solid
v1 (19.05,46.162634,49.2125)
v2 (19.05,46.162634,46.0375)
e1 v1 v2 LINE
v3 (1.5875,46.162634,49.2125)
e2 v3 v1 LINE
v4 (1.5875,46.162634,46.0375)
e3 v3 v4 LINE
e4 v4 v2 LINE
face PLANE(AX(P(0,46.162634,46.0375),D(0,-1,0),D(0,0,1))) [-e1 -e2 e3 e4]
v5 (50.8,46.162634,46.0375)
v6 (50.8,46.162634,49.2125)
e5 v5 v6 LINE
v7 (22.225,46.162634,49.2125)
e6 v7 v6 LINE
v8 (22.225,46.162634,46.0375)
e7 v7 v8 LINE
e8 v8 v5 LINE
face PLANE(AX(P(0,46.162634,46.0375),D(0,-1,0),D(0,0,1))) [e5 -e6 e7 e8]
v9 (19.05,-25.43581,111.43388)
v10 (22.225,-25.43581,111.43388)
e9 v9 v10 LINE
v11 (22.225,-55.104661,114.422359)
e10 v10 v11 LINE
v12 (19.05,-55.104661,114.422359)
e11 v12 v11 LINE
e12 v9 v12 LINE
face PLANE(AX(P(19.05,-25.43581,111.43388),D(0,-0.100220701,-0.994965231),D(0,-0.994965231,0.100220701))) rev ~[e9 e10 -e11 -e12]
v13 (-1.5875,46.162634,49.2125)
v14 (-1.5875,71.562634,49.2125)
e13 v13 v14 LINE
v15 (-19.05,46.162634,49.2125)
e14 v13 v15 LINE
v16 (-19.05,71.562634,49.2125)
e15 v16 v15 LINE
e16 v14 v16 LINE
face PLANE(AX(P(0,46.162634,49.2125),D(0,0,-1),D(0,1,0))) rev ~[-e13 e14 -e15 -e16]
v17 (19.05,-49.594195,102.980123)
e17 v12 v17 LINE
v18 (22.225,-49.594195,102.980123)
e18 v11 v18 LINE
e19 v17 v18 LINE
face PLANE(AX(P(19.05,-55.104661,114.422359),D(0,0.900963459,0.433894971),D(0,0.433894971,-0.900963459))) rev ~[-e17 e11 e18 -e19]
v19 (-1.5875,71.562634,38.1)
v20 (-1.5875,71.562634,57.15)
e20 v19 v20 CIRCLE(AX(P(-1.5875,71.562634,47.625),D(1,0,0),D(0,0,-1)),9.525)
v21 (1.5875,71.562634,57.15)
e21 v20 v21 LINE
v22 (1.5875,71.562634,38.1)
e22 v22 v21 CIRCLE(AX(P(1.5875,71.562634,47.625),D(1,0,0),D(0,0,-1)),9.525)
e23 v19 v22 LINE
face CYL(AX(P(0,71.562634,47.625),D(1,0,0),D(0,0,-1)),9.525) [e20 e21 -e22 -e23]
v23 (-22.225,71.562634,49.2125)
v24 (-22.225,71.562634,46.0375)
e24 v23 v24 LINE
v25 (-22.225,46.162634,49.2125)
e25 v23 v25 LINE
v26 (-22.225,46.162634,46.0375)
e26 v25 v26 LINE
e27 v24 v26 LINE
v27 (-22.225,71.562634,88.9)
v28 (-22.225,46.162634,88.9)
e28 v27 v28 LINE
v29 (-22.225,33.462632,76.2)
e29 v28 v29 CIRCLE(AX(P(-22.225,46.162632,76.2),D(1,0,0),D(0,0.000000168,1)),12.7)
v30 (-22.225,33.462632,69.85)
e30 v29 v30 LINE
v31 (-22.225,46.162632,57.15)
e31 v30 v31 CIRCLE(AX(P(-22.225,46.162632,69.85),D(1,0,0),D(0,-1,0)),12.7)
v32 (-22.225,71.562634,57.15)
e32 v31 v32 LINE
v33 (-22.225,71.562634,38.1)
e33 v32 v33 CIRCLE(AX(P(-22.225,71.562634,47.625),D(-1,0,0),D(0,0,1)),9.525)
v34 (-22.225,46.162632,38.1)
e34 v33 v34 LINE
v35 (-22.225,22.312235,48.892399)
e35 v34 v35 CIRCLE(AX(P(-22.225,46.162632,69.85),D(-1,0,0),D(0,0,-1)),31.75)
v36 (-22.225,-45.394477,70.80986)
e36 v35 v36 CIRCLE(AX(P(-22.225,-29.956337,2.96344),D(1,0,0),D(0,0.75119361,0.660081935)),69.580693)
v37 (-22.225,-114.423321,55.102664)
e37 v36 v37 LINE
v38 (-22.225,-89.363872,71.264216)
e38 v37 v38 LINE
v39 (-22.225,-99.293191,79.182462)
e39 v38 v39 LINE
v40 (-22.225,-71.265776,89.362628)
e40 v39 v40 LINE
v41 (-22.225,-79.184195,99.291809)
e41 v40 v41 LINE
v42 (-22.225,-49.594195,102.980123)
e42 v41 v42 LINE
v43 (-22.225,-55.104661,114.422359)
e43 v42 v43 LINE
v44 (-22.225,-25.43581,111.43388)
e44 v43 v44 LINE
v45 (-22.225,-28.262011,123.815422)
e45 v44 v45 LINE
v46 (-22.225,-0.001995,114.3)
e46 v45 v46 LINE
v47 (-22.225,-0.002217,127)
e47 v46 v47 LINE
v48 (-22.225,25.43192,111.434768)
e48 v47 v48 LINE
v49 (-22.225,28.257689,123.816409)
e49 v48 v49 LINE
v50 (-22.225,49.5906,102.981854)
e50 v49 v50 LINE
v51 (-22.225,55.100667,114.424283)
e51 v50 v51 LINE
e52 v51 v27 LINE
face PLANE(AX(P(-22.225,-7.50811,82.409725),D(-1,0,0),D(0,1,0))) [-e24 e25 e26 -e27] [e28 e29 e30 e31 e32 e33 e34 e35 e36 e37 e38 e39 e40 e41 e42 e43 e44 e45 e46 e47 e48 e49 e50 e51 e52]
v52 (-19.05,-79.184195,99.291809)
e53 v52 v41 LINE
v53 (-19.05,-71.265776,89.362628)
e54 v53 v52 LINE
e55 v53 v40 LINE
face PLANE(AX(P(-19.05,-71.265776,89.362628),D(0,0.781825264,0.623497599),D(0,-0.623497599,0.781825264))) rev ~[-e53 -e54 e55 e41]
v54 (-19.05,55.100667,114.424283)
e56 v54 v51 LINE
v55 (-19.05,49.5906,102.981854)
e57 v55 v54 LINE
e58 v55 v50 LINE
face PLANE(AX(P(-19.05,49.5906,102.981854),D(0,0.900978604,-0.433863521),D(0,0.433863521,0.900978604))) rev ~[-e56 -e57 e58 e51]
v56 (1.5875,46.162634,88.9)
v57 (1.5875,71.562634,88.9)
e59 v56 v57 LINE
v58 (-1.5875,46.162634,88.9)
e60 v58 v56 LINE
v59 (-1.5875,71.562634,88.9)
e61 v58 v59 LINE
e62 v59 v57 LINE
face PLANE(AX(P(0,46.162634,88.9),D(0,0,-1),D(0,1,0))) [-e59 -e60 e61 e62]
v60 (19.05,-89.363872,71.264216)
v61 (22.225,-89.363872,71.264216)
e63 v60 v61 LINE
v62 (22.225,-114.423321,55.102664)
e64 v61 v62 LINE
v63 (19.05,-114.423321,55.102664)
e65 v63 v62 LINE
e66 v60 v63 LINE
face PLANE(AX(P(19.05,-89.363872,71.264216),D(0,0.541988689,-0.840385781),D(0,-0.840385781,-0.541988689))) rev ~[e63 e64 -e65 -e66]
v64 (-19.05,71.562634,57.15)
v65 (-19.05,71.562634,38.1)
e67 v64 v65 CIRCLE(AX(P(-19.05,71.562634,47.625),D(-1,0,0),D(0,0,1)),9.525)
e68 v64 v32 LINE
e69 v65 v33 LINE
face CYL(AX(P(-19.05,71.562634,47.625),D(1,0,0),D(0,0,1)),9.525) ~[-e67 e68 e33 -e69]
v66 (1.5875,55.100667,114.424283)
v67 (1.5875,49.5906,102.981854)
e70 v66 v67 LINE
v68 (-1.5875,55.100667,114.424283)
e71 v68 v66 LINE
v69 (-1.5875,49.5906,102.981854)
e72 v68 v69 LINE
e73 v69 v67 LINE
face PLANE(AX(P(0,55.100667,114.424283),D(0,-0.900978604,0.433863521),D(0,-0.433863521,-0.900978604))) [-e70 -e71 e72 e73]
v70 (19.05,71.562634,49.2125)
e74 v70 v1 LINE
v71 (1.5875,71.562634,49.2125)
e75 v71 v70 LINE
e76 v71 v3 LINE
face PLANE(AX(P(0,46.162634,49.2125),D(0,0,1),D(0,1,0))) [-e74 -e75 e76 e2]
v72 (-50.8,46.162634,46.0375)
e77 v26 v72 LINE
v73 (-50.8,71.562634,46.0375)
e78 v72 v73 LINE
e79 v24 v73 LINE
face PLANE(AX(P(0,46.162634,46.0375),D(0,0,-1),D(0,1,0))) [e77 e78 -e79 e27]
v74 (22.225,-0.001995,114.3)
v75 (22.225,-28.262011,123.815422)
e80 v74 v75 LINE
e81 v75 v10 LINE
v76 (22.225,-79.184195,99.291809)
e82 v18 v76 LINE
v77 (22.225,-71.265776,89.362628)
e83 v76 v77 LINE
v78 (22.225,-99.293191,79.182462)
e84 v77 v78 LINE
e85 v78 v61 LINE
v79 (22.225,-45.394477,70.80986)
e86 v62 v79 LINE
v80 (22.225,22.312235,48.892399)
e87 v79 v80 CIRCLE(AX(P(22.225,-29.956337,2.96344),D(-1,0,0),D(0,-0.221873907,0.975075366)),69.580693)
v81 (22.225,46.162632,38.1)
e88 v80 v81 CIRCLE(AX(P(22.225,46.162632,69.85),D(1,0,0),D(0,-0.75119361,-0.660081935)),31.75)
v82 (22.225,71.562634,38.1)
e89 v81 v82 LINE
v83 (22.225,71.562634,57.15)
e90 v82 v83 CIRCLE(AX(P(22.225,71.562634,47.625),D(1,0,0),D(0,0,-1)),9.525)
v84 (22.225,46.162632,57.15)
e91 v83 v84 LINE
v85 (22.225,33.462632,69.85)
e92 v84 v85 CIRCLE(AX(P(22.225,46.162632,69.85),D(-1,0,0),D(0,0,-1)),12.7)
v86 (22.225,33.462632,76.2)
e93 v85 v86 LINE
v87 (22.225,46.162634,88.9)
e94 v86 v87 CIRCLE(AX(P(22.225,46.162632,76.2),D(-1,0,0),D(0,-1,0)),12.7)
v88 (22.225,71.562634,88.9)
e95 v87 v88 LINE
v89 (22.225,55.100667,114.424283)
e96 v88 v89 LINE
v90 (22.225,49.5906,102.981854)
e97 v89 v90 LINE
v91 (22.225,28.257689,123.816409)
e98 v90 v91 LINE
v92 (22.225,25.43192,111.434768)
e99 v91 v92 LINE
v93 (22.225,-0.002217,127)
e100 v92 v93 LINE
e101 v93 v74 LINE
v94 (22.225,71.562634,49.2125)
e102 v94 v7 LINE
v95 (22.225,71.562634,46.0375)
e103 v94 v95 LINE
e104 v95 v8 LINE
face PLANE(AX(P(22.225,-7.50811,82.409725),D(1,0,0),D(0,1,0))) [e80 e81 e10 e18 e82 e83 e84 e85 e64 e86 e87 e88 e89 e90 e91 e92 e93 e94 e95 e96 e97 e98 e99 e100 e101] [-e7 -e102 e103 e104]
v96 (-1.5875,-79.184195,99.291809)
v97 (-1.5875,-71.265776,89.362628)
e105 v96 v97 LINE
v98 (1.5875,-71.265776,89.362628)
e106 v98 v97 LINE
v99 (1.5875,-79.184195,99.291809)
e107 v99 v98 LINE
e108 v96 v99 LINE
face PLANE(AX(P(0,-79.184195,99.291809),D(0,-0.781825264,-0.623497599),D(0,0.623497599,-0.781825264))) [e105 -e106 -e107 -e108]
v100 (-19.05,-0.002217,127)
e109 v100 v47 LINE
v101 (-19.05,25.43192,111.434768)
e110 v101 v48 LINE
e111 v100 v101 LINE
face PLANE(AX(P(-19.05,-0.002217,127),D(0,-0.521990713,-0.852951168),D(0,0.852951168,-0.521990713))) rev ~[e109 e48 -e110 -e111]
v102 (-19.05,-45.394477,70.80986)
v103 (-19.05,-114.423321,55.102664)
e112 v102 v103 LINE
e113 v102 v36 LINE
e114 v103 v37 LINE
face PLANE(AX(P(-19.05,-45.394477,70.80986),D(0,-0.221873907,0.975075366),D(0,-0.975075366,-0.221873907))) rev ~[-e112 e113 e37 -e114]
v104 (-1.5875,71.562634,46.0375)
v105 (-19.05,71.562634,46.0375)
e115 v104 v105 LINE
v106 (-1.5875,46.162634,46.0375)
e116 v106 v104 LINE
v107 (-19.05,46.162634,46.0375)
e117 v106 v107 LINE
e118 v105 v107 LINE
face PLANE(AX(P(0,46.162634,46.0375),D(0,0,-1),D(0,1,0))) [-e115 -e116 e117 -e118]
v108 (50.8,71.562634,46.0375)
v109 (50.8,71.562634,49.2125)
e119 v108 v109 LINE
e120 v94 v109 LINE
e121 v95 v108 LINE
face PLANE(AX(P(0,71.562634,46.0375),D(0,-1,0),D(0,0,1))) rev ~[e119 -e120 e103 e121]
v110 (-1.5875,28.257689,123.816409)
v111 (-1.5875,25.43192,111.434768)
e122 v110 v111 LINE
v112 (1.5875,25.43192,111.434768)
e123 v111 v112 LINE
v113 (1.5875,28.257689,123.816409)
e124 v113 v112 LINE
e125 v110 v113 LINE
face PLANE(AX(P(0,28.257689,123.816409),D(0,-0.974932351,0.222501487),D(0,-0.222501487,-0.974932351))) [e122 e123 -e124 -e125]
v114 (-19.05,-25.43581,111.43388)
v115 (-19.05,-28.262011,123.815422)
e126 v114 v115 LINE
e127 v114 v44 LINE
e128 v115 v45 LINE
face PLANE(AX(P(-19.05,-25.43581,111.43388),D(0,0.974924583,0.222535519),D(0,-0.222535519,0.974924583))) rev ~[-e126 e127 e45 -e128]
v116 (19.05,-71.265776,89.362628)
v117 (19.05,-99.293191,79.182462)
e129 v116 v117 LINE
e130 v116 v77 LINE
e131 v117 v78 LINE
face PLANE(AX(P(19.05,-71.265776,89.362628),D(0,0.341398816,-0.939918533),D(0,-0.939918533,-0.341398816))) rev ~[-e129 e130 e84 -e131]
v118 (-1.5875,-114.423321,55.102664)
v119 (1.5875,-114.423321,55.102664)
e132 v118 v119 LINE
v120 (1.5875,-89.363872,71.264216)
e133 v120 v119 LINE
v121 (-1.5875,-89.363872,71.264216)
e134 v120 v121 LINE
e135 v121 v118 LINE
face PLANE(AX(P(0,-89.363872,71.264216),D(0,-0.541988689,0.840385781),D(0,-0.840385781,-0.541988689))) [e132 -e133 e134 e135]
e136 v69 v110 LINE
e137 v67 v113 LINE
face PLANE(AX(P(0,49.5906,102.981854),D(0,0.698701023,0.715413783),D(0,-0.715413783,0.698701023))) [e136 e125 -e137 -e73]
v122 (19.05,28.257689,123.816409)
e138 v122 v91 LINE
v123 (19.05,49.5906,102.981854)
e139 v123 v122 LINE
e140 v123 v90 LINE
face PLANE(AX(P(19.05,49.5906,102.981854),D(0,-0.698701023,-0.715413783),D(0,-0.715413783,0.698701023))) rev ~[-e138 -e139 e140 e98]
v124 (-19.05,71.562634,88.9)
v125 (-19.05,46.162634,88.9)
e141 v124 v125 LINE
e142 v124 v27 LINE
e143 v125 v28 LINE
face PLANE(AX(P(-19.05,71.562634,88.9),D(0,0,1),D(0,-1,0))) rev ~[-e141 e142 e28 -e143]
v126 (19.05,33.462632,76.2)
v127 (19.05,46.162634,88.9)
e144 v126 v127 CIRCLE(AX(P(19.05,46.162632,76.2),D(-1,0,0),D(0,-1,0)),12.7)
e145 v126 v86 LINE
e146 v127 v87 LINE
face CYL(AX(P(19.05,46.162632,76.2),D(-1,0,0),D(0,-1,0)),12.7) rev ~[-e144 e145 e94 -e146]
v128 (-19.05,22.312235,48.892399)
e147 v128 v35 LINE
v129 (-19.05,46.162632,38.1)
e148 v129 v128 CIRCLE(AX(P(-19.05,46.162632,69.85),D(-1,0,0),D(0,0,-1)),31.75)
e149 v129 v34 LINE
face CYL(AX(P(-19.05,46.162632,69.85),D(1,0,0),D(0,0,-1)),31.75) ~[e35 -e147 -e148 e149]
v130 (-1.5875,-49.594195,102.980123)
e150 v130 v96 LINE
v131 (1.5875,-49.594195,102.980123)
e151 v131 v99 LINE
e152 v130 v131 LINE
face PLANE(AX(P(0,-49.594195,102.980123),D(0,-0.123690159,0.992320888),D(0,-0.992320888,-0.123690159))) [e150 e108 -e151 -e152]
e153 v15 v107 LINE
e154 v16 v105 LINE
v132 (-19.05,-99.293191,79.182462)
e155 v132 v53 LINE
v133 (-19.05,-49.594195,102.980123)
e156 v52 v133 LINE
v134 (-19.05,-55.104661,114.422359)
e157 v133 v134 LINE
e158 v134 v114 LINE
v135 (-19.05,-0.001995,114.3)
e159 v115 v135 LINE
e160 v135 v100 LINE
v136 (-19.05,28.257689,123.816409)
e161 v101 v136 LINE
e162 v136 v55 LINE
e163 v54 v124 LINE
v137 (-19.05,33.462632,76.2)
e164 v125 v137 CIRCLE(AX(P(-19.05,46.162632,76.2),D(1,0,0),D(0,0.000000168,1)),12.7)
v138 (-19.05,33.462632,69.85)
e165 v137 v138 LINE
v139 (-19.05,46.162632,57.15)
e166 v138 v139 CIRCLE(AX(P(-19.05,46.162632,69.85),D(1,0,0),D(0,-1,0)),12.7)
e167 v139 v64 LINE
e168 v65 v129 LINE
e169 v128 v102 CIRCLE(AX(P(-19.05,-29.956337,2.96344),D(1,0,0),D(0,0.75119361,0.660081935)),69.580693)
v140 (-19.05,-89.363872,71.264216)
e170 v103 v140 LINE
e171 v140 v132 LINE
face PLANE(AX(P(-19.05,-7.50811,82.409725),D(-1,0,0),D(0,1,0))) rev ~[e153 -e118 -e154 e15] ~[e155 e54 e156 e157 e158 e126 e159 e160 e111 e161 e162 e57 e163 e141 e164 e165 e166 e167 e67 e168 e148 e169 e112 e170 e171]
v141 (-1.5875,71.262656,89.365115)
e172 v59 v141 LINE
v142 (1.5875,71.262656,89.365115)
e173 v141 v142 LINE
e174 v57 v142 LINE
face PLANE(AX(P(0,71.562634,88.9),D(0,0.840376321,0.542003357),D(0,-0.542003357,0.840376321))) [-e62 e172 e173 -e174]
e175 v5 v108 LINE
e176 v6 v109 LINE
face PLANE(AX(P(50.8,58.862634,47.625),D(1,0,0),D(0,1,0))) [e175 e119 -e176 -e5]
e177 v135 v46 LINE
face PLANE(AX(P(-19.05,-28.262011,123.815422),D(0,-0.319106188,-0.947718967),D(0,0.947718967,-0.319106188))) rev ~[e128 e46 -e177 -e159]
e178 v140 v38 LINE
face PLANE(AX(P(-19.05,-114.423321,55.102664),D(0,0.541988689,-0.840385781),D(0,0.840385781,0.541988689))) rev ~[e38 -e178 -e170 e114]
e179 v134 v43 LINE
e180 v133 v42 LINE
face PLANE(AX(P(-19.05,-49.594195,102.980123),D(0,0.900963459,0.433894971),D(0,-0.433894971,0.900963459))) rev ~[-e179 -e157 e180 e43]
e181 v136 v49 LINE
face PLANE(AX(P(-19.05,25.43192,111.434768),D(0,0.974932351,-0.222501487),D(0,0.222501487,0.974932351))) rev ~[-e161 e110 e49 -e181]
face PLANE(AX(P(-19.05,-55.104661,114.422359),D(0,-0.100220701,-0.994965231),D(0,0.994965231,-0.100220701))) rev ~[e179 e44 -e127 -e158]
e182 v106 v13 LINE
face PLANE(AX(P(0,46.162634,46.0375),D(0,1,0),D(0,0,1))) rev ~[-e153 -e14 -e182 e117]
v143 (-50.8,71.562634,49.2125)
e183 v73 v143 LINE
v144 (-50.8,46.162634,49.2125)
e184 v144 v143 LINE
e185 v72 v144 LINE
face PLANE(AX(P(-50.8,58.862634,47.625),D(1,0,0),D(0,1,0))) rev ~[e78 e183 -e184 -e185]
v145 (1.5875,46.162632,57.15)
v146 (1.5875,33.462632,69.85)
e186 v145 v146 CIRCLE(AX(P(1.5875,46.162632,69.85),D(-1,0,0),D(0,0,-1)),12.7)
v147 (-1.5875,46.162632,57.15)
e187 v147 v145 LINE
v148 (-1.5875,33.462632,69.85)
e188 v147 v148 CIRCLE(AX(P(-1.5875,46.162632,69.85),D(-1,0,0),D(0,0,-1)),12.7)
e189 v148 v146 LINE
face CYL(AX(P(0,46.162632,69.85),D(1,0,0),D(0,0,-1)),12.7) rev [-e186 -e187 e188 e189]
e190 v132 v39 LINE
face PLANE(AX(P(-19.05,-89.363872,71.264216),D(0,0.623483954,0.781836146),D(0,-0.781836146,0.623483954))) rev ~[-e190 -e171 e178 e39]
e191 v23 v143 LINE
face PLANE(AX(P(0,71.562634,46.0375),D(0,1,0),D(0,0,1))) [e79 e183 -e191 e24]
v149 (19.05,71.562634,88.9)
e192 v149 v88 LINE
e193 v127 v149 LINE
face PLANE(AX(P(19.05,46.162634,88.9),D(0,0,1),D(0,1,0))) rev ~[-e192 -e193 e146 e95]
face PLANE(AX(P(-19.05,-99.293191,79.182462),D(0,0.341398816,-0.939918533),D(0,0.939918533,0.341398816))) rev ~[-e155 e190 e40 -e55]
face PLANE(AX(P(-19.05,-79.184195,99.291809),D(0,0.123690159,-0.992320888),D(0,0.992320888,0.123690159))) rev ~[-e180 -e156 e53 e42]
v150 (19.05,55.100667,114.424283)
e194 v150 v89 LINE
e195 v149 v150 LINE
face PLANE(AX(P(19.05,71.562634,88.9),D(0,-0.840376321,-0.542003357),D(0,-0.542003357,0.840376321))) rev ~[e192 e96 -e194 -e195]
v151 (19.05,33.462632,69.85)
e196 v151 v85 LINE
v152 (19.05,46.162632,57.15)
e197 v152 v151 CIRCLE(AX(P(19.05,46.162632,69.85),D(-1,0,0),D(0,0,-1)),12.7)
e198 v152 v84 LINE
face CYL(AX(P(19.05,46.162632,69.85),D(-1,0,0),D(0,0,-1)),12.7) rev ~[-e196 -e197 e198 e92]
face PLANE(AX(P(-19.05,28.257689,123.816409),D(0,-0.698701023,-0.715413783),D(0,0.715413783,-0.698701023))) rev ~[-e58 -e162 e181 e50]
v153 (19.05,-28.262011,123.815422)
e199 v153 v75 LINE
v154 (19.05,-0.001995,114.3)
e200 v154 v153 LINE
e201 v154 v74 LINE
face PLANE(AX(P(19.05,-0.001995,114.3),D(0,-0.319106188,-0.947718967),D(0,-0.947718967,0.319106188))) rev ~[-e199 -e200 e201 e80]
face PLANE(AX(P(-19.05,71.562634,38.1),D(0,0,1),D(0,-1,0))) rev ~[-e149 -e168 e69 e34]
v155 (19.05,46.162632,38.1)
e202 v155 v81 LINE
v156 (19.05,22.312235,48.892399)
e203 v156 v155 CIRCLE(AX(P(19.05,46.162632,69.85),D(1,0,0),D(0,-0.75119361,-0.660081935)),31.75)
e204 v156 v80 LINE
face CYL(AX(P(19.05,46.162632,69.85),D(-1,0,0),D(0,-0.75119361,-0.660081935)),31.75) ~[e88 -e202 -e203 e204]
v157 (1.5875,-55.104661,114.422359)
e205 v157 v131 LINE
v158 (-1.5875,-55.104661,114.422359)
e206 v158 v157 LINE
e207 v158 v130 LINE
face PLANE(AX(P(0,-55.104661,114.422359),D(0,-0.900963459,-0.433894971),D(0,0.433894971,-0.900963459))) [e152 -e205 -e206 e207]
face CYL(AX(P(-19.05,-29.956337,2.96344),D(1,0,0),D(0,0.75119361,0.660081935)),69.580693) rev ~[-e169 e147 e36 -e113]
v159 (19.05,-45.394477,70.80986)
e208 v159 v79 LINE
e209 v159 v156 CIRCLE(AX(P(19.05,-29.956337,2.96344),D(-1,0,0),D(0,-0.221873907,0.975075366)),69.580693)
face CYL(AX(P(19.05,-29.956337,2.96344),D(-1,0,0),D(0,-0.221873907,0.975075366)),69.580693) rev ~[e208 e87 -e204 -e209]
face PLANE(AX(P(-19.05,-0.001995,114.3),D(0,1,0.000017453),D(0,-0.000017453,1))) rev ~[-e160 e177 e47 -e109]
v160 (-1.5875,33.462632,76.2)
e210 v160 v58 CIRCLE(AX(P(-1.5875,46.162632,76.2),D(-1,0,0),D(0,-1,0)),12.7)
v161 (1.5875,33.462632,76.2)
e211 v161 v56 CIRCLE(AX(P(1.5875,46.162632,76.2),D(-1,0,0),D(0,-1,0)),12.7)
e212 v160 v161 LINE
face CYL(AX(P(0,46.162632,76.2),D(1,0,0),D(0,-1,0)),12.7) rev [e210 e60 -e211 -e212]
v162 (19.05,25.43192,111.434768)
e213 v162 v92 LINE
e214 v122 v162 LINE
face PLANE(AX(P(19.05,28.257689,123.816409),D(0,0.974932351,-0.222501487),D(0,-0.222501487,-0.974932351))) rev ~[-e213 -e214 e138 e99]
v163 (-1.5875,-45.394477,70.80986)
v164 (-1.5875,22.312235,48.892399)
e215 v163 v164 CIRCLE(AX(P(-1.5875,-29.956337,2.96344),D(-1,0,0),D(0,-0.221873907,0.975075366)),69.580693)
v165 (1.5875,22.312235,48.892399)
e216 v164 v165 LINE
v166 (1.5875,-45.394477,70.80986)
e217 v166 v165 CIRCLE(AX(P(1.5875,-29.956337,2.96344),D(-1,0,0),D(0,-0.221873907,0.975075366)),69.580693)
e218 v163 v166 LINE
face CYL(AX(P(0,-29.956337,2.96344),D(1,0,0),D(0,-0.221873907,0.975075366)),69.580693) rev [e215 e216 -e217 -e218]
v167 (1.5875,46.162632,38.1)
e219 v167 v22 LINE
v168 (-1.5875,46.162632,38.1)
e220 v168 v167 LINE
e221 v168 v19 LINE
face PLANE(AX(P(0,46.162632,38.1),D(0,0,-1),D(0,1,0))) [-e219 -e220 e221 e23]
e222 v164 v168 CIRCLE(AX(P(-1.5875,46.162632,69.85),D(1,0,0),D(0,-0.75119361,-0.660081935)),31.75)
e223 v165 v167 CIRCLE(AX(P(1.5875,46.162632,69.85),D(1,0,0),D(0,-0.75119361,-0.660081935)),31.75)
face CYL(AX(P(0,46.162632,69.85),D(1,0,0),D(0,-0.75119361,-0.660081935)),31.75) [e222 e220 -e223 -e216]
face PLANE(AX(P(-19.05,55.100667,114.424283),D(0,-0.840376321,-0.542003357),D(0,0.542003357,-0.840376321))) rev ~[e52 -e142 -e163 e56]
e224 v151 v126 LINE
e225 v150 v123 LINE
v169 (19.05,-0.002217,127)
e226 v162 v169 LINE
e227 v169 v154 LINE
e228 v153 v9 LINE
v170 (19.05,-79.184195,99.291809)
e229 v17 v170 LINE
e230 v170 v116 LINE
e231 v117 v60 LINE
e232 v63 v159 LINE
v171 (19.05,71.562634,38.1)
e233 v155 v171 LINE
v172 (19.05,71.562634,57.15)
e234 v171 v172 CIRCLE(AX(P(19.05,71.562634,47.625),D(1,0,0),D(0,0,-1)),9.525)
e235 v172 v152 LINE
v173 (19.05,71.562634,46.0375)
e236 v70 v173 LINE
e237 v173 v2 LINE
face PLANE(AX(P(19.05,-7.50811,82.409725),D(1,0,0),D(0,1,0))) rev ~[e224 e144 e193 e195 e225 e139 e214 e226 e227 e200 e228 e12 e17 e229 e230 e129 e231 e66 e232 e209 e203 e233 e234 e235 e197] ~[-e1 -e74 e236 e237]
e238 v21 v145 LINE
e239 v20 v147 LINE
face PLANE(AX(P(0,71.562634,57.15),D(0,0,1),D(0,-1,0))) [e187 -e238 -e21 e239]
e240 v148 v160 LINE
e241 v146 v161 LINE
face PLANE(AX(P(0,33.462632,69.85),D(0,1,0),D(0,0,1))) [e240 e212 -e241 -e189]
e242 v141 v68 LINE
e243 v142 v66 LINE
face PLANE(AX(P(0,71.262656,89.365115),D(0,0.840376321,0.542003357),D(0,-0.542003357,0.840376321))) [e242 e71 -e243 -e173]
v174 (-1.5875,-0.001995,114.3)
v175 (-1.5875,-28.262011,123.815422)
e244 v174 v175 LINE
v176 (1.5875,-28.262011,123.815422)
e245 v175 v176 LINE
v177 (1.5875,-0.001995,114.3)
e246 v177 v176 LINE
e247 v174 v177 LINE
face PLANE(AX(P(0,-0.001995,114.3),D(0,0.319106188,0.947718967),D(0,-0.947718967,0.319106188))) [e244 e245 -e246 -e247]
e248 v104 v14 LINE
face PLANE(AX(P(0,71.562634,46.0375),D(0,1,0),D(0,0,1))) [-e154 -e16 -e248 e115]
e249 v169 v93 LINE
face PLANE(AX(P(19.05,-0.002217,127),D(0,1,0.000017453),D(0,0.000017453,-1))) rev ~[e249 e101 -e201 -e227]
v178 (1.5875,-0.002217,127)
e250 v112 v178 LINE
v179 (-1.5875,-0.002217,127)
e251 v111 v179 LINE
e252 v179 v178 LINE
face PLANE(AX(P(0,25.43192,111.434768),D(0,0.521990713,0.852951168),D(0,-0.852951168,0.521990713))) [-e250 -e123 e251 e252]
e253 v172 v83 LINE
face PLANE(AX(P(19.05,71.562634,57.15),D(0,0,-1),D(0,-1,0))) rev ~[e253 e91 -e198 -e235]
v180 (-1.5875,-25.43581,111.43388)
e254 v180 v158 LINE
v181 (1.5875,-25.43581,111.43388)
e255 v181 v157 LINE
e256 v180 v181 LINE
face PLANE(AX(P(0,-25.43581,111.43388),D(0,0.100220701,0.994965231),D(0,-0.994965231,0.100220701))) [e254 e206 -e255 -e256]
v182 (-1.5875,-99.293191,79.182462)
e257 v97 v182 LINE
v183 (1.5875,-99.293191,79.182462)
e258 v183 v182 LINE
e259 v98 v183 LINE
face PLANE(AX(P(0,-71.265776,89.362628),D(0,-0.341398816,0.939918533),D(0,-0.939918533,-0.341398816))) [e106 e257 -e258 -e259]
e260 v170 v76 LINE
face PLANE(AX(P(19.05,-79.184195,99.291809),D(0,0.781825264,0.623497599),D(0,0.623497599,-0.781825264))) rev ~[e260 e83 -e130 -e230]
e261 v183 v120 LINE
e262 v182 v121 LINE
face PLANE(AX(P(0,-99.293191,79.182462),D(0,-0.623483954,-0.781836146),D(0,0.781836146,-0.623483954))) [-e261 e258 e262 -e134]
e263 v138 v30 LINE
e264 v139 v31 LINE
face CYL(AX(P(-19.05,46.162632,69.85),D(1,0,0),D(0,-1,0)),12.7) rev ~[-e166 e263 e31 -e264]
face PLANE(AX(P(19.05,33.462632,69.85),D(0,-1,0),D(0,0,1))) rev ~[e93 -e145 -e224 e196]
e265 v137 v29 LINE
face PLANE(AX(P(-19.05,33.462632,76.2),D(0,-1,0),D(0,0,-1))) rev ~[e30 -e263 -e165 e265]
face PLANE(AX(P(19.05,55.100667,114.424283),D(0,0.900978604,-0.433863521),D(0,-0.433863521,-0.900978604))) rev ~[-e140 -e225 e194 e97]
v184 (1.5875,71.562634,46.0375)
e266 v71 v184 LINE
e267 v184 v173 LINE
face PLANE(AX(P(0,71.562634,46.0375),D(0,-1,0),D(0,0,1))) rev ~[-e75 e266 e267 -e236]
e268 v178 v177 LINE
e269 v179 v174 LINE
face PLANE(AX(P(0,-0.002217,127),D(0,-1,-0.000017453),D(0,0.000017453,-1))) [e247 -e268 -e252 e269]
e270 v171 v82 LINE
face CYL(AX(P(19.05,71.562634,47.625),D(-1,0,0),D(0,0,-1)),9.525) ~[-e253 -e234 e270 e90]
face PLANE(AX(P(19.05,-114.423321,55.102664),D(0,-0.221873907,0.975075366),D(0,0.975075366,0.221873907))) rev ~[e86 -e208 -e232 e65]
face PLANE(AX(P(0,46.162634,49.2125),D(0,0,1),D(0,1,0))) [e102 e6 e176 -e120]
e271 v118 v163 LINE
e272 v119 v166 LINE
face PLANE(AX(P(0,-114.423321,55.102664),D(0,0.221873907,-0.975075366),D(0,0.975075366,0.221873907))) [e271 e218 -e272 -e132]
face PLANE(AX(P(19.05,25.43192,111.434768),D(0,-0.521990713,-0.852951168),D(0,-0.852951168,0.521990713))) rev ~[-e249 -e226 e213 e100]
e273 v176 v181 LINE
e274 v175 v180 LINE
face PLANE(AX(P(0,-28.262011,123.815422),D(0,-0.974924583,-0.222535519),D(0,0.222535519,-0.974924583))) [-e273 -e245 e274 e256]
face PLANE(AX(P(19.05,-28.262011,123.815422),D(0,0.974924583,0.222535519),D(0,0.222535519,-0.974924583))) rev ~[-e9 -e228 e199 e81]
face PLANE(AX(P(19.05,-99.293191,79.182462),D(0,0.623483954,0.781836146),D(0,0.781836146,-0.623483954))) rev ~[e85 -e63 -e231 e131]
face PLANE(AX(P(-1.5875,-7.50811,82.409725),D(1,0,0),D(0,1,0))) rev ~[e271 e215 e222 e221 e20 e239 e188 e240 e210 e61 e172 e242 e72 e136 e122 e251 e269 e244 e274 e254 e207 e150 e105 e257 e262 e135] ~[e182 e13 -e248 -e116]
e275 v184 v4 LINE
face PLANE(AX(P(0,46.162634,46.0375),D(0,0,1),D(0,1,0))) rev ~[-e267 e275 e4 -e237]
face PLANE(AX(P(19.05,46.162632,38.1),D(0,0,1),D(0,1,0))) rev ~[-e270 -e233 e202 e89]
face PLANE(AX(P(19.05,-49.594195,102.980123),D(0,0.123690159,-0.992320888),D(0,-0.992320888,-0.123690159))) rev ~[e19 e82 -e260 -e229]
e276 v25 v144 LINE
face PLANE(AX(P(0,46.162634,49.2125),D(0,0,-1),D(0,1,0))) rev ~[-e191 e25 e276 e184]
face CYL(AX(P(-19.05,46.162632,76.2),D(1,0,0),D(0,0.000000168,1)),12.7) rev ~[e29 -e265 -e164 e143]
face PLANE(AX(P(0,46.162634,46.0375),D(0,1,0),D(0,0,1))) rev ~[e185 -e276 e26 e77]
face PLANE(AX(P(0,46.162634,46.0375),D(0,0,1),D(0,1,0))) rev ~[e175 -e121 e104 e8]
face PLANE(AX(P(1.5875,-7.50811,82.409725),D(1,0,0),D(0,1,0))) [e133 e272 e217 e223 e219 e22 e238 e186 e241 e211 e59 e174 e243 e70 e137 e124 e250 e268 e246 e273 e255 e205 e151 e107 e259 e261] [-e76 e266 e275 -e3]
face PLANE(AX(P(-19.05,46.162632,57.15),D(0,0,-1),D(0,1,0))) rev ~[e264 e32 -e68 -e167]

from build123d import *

# Parameters (mm, degrees)
F1_DEPTH      = 1.5875
F1_DEPTH_BACK = 1.5875
F2_START      = 17.4625
F2_DEPTH      = 3.175
F3_START      = 17.4625
F3_DEPTH      = 3.175
F4_W          = 25.4
F4_H          = 3.175
F5_DEPTH      = 50.8
F5_DEPTH_BACK = 50.8


with BuildPart() as f1:
    # F0 (on Right) → F1 (new body, two sides)
    with BuildSketch(Plane.YZ) as f1_sk:
        with BuildLine():
            Line((-89.3638715037, 71.2642159143), (-114.423321003, 55.102664279))
            Line((-114.423321003, 55.102664279), (-45.394477118, 70.8098596439))
            ThreePointArc((-45.394477118, 70.8098596439), (-8.5270592577, 69.1620720095), (22.3122345378, 48.8923985547))
            ThreePointArc((22.3122345378, 48.8923985547), (33.0733487312, 40.9236595167), (46.1626316513, 38.0999999807))
            Line((46.1626316513, 38.0999999807), (71.5626337911, 38.0999999807))
            ThreePointArc((71.5626337911, 38.0999999807), (81.0876337911, 47.6249999807), (71.5626337911, 57.1499999807))
            Line((71.5626337911, 57.1499999807), (46.1626316513, 57.1499999807))
            ThreePointArc((46.1626316513, 57.1499999807), (37.1823755302, 60.8697438596), (33.4626316513, 69.8499999807))
            Line((33.4626316513, 69.8499999807), (33.4626316513, 76.1999999807))
            ThreePointArc((33.4626316513, 76.1999999807), (37.1823762868, 85.1802568583), (46.1626337911, 88.8999999807))
            Line((46.1626337911, 88.8999999807), (71.5626337911, 88.8999999807))
            Line((71.5626337911, 88.8999999807), (71.2626562096, 89.3651152853))
            Line((71.2626562096, 89.3651152853), (55.1006672069, 114.4242827085))
            Line((55.1006672069, 114.4242827085), (49.5906004862, 102.9818544376))
            Line((49.5906004862, 102.9818544376), (28.2576888992, 123.8164085171))
            Line((28.2576888992, 123.8164085171), (25.4319200093, 111.4347676654))
            Line((25.4319200093, 111.4347676654), (-0.0022165681, 126.9999999807))
            Line((-0.0022165681, 126.9999999807), (-0.0019949113, 114.2999999826))
            Line((-0.0019949113, 114.2999999826), (-28.26201089, 123.8154220623))
            Line((-28.26201089, 123.8154220623), (-25.435809801, 111.433879856))
            Line((-25.435809801, 111.433879856), (-55.1046613343, 114.4223592627))
            Line((-55.1046613343, 114.4223592627), (-49.5941952009, 102.9801233364))
            Line((-49.5941952009, 102.9801233364), (-79.184195108, 99.2918085499))
            Line((-79.184195108, 99.2918085499), (-71.2657755972, 89.3626276949))
            Line((-71.2657755972, 89.3626276949), (-99.2931905596, 79.1824621269))
            Line((-99.2931905596, 79.1824621269), (-89.3638715037, 71.2642159143))
        make_face()
    extrude(amount=F1_DEPTH)
    extrude(f1_sk.sketch, amount=-F1_DEPTH_BACK)



with BuildPart() as f2:
    # F1_face (on face) → F2 (new body)
    with BuildSketch(Plane(origin=(1.5875, -4.3675464113, 83.8957908955), x_dir=(0, 1, 0), z_dir=(1, 0, 0)).offset(F2_START)):
        with BuildLine():
            Line((-94.9256441483, -4.7133287685), (-84.9963250924, -12.6315749812))
            Line((-84.9963250924, -12.6315749812), (-110.0557745917, -28.7931266165))
            Line((-110.0557745917, -28.7931266165), (-41.0269307067, -13.0859312515))
            ThreePointArc((-41.0269307067, -13.0859312515), (-4.1595128464, -14.733718886), (26.6797809491, -35.0033923408))
            ThreePointArc((26.6797809491, -35.0033923408), (37.4408951425, -42.9721313788), (50.5301780626, -45.7957909148))
            Line((50.5301780626, -45.7957909148), (75.9301802024, -45.7957909148))
            ThreePointArc((75.9301802024, -45.7957909148), (85.4551802024, -36.2707909148), (75.9301802024, -26.7457909148))
            Line((75.9301802024, -26.7457909148), (50.5301780626, -26.7457909148))
            ThreePointArc((50.5301780626, -26.7457909148), (41.5499219415, -23.0260470359), (37.8301780626, -14.0457909148))
            Line((37.8301780626, -14.0457909148), (37.8301780626, -7.6957909148))
            ThreePointArc((37.8301780626, -7.6957909148), (41.5499226981, 1.2844659628), (50.5301802024, 5.0042090852))
            Line((50.5301802024, 5.0042090852), (75.9301802024, 5.0042090852))
            Line((75.9301802024, 5.0042090852), (59.4682136182, 30.528491813))
            Line((59.4682136182, 30.528491813), (53.9581468975, 19.0860635422))
            Line((53.9581468975, 19.0860635422), (32.6252353105, 39.9206176217))
            Line((32.6252353105, 39.9206176217), (29.7994664206, 27.5389767699))
            Line((29.7994664206, 27.5389767699), (4.3653298432, 43.1042090852))
            Line((4.3653298432, 43.1042090852), (4.3655515, 30.4042090871))
            Line((4.3655515, 30.4042090871), (-23.8944644787, 39.9196311668))
            Line((-23.8944644787, 39.9196311668), (-21.0682633897, 27.5380889606))
            Line((-21.0682633897, 27.5380889606), (-50.737114923, 30.5265683672))
            Line((-50.737114923, 30.5265683672), (-45.2266487895, 19.0843324409))
            Line((-45.2266487895, 19.0843324409), (-74.8166486967, 15.3960176544))
            Line((-74.8166486967, 15.3960176544), (-66.8982291859, 5.4668367994))
            Line((-66.8982291859, 5.4668367994), (-94.9256441483, -4.7133287685))
        make_face()
    extrude(amount=F2_DEPTH)


with BuildPart() as f3:
    # F1_face1 (on face) → F3 (new body)
    with BuildSketch(Plane(origin=(-1.5875, -4.3675464113, 83.8957908955), x_dir=(0, 1, 0), z_dir=(-1, 0, 0)).offset(F3_START)):
        with BuildLine():
            Line((-84.9963250924, 12.6315749812), (-94.9256441483, 4.7133287685))
            Line((-94.9256441483, 4.7133287685), (-66.8982291859, -5.4668367994))
            Line((-66.8982291859, -5.4668367994), (-74.8166486967, -15.3960176544))
            Line((-74.8166486967, -15.3960176544), (-45.2266487895, -19.0843324409))
            Line((-45.2266487895, -19.0843324409), (-50.737114923, -30.5265683672))
            Line((-50.737114923, -30.5265683672), (-21.0682633897, -27.5380889606))
            Line((-21.0682633897, -27.5380889606), (-23.8944644787, -39.9196311668))
            Line((-23.8944644787, -39.9196311668), (4.3655515, -30.4042090871))
            Line((4.3655515, -30.4042090871), (4.3653298432, -43.1042090852))
            Line((4.3653298432, -43.1042090852), (29.7994664206, -27.5389767699))
            Line((29.7994664206, -27.5389767699), (32.6252353105, -39.9206176217))
            Line((32.6252353105, -39.9206176217), (53.9581468975, -19.0860635422))
            Line((53.9581468975, -19.0860635422), (59.4682136182, -30.528491813))
            Line((59.4682136182, -30.528491813), (75.9301802024, -5.0042090852))
            Line((75.9301802024, -5.0042090852), (50.5301802024, -5.0042090852))
            ThreePointArc((50.5301802024, -5.0042090852), (41.5499226981, -1.2844659628), (37.8301780626, 7.6957909148))
            Line((37.8301780626, 7.6957909148), (37.8301780626, 14.0457909148))
            ThreePointArc((37.8301780626, 14.0457909148), (41.5499219415, 23.0260470359), (50.5301780626, 26.7457909148))
            Line((50.5301780626, 26.7457909148), (75.9301802024, 26.7457909148))
            ThreePointArc((75.9301802024, 26.7457909148), (85.4551802024, 36.2707909148), (75.9301802024, 45.7957909148))
            Line((75.9301802024, 45.7957909148), (50.5301780626, 45.7957909148))
            ThreePointArc((50.5301780626, 45.7957909148), (37.4408951425, 42.9721313788), (26.6797809491, 35.0033923408))
            ThreePointArc((26.6797809491, 35.0033923408), (-4.1595128464, 14.733718886), (-41.0269307067, 13.0859312515))
            Line((-41.0269307067, 13.0859312515), (-110.0557745917, 28.7931266165))
            Line((-110.0557745917, 28.7931266165), (-84.9963250924, 12.6315749812))
        make_face()
    extrude(amount=F3_DEPTH)


with BuildPart() as f1_1:
    add(f1.part)

    add(f2.part)  # F5 merges F2

    add(f3.part)  # F5 merges F3
    # F4 (on face) → F5 (join, two sides)
    with BuildSketch(Plane.YZ) as f5_sk:
        with Locations((58.8626337911, 47.6249999807)):
            Rectangle(F4_W, F4_H)
    extrude(amount=F5_DEPTH)
    extrude(f5_sk.sketch, amount=-F5_DEPTH_BACK)


solid = f1_1.part
